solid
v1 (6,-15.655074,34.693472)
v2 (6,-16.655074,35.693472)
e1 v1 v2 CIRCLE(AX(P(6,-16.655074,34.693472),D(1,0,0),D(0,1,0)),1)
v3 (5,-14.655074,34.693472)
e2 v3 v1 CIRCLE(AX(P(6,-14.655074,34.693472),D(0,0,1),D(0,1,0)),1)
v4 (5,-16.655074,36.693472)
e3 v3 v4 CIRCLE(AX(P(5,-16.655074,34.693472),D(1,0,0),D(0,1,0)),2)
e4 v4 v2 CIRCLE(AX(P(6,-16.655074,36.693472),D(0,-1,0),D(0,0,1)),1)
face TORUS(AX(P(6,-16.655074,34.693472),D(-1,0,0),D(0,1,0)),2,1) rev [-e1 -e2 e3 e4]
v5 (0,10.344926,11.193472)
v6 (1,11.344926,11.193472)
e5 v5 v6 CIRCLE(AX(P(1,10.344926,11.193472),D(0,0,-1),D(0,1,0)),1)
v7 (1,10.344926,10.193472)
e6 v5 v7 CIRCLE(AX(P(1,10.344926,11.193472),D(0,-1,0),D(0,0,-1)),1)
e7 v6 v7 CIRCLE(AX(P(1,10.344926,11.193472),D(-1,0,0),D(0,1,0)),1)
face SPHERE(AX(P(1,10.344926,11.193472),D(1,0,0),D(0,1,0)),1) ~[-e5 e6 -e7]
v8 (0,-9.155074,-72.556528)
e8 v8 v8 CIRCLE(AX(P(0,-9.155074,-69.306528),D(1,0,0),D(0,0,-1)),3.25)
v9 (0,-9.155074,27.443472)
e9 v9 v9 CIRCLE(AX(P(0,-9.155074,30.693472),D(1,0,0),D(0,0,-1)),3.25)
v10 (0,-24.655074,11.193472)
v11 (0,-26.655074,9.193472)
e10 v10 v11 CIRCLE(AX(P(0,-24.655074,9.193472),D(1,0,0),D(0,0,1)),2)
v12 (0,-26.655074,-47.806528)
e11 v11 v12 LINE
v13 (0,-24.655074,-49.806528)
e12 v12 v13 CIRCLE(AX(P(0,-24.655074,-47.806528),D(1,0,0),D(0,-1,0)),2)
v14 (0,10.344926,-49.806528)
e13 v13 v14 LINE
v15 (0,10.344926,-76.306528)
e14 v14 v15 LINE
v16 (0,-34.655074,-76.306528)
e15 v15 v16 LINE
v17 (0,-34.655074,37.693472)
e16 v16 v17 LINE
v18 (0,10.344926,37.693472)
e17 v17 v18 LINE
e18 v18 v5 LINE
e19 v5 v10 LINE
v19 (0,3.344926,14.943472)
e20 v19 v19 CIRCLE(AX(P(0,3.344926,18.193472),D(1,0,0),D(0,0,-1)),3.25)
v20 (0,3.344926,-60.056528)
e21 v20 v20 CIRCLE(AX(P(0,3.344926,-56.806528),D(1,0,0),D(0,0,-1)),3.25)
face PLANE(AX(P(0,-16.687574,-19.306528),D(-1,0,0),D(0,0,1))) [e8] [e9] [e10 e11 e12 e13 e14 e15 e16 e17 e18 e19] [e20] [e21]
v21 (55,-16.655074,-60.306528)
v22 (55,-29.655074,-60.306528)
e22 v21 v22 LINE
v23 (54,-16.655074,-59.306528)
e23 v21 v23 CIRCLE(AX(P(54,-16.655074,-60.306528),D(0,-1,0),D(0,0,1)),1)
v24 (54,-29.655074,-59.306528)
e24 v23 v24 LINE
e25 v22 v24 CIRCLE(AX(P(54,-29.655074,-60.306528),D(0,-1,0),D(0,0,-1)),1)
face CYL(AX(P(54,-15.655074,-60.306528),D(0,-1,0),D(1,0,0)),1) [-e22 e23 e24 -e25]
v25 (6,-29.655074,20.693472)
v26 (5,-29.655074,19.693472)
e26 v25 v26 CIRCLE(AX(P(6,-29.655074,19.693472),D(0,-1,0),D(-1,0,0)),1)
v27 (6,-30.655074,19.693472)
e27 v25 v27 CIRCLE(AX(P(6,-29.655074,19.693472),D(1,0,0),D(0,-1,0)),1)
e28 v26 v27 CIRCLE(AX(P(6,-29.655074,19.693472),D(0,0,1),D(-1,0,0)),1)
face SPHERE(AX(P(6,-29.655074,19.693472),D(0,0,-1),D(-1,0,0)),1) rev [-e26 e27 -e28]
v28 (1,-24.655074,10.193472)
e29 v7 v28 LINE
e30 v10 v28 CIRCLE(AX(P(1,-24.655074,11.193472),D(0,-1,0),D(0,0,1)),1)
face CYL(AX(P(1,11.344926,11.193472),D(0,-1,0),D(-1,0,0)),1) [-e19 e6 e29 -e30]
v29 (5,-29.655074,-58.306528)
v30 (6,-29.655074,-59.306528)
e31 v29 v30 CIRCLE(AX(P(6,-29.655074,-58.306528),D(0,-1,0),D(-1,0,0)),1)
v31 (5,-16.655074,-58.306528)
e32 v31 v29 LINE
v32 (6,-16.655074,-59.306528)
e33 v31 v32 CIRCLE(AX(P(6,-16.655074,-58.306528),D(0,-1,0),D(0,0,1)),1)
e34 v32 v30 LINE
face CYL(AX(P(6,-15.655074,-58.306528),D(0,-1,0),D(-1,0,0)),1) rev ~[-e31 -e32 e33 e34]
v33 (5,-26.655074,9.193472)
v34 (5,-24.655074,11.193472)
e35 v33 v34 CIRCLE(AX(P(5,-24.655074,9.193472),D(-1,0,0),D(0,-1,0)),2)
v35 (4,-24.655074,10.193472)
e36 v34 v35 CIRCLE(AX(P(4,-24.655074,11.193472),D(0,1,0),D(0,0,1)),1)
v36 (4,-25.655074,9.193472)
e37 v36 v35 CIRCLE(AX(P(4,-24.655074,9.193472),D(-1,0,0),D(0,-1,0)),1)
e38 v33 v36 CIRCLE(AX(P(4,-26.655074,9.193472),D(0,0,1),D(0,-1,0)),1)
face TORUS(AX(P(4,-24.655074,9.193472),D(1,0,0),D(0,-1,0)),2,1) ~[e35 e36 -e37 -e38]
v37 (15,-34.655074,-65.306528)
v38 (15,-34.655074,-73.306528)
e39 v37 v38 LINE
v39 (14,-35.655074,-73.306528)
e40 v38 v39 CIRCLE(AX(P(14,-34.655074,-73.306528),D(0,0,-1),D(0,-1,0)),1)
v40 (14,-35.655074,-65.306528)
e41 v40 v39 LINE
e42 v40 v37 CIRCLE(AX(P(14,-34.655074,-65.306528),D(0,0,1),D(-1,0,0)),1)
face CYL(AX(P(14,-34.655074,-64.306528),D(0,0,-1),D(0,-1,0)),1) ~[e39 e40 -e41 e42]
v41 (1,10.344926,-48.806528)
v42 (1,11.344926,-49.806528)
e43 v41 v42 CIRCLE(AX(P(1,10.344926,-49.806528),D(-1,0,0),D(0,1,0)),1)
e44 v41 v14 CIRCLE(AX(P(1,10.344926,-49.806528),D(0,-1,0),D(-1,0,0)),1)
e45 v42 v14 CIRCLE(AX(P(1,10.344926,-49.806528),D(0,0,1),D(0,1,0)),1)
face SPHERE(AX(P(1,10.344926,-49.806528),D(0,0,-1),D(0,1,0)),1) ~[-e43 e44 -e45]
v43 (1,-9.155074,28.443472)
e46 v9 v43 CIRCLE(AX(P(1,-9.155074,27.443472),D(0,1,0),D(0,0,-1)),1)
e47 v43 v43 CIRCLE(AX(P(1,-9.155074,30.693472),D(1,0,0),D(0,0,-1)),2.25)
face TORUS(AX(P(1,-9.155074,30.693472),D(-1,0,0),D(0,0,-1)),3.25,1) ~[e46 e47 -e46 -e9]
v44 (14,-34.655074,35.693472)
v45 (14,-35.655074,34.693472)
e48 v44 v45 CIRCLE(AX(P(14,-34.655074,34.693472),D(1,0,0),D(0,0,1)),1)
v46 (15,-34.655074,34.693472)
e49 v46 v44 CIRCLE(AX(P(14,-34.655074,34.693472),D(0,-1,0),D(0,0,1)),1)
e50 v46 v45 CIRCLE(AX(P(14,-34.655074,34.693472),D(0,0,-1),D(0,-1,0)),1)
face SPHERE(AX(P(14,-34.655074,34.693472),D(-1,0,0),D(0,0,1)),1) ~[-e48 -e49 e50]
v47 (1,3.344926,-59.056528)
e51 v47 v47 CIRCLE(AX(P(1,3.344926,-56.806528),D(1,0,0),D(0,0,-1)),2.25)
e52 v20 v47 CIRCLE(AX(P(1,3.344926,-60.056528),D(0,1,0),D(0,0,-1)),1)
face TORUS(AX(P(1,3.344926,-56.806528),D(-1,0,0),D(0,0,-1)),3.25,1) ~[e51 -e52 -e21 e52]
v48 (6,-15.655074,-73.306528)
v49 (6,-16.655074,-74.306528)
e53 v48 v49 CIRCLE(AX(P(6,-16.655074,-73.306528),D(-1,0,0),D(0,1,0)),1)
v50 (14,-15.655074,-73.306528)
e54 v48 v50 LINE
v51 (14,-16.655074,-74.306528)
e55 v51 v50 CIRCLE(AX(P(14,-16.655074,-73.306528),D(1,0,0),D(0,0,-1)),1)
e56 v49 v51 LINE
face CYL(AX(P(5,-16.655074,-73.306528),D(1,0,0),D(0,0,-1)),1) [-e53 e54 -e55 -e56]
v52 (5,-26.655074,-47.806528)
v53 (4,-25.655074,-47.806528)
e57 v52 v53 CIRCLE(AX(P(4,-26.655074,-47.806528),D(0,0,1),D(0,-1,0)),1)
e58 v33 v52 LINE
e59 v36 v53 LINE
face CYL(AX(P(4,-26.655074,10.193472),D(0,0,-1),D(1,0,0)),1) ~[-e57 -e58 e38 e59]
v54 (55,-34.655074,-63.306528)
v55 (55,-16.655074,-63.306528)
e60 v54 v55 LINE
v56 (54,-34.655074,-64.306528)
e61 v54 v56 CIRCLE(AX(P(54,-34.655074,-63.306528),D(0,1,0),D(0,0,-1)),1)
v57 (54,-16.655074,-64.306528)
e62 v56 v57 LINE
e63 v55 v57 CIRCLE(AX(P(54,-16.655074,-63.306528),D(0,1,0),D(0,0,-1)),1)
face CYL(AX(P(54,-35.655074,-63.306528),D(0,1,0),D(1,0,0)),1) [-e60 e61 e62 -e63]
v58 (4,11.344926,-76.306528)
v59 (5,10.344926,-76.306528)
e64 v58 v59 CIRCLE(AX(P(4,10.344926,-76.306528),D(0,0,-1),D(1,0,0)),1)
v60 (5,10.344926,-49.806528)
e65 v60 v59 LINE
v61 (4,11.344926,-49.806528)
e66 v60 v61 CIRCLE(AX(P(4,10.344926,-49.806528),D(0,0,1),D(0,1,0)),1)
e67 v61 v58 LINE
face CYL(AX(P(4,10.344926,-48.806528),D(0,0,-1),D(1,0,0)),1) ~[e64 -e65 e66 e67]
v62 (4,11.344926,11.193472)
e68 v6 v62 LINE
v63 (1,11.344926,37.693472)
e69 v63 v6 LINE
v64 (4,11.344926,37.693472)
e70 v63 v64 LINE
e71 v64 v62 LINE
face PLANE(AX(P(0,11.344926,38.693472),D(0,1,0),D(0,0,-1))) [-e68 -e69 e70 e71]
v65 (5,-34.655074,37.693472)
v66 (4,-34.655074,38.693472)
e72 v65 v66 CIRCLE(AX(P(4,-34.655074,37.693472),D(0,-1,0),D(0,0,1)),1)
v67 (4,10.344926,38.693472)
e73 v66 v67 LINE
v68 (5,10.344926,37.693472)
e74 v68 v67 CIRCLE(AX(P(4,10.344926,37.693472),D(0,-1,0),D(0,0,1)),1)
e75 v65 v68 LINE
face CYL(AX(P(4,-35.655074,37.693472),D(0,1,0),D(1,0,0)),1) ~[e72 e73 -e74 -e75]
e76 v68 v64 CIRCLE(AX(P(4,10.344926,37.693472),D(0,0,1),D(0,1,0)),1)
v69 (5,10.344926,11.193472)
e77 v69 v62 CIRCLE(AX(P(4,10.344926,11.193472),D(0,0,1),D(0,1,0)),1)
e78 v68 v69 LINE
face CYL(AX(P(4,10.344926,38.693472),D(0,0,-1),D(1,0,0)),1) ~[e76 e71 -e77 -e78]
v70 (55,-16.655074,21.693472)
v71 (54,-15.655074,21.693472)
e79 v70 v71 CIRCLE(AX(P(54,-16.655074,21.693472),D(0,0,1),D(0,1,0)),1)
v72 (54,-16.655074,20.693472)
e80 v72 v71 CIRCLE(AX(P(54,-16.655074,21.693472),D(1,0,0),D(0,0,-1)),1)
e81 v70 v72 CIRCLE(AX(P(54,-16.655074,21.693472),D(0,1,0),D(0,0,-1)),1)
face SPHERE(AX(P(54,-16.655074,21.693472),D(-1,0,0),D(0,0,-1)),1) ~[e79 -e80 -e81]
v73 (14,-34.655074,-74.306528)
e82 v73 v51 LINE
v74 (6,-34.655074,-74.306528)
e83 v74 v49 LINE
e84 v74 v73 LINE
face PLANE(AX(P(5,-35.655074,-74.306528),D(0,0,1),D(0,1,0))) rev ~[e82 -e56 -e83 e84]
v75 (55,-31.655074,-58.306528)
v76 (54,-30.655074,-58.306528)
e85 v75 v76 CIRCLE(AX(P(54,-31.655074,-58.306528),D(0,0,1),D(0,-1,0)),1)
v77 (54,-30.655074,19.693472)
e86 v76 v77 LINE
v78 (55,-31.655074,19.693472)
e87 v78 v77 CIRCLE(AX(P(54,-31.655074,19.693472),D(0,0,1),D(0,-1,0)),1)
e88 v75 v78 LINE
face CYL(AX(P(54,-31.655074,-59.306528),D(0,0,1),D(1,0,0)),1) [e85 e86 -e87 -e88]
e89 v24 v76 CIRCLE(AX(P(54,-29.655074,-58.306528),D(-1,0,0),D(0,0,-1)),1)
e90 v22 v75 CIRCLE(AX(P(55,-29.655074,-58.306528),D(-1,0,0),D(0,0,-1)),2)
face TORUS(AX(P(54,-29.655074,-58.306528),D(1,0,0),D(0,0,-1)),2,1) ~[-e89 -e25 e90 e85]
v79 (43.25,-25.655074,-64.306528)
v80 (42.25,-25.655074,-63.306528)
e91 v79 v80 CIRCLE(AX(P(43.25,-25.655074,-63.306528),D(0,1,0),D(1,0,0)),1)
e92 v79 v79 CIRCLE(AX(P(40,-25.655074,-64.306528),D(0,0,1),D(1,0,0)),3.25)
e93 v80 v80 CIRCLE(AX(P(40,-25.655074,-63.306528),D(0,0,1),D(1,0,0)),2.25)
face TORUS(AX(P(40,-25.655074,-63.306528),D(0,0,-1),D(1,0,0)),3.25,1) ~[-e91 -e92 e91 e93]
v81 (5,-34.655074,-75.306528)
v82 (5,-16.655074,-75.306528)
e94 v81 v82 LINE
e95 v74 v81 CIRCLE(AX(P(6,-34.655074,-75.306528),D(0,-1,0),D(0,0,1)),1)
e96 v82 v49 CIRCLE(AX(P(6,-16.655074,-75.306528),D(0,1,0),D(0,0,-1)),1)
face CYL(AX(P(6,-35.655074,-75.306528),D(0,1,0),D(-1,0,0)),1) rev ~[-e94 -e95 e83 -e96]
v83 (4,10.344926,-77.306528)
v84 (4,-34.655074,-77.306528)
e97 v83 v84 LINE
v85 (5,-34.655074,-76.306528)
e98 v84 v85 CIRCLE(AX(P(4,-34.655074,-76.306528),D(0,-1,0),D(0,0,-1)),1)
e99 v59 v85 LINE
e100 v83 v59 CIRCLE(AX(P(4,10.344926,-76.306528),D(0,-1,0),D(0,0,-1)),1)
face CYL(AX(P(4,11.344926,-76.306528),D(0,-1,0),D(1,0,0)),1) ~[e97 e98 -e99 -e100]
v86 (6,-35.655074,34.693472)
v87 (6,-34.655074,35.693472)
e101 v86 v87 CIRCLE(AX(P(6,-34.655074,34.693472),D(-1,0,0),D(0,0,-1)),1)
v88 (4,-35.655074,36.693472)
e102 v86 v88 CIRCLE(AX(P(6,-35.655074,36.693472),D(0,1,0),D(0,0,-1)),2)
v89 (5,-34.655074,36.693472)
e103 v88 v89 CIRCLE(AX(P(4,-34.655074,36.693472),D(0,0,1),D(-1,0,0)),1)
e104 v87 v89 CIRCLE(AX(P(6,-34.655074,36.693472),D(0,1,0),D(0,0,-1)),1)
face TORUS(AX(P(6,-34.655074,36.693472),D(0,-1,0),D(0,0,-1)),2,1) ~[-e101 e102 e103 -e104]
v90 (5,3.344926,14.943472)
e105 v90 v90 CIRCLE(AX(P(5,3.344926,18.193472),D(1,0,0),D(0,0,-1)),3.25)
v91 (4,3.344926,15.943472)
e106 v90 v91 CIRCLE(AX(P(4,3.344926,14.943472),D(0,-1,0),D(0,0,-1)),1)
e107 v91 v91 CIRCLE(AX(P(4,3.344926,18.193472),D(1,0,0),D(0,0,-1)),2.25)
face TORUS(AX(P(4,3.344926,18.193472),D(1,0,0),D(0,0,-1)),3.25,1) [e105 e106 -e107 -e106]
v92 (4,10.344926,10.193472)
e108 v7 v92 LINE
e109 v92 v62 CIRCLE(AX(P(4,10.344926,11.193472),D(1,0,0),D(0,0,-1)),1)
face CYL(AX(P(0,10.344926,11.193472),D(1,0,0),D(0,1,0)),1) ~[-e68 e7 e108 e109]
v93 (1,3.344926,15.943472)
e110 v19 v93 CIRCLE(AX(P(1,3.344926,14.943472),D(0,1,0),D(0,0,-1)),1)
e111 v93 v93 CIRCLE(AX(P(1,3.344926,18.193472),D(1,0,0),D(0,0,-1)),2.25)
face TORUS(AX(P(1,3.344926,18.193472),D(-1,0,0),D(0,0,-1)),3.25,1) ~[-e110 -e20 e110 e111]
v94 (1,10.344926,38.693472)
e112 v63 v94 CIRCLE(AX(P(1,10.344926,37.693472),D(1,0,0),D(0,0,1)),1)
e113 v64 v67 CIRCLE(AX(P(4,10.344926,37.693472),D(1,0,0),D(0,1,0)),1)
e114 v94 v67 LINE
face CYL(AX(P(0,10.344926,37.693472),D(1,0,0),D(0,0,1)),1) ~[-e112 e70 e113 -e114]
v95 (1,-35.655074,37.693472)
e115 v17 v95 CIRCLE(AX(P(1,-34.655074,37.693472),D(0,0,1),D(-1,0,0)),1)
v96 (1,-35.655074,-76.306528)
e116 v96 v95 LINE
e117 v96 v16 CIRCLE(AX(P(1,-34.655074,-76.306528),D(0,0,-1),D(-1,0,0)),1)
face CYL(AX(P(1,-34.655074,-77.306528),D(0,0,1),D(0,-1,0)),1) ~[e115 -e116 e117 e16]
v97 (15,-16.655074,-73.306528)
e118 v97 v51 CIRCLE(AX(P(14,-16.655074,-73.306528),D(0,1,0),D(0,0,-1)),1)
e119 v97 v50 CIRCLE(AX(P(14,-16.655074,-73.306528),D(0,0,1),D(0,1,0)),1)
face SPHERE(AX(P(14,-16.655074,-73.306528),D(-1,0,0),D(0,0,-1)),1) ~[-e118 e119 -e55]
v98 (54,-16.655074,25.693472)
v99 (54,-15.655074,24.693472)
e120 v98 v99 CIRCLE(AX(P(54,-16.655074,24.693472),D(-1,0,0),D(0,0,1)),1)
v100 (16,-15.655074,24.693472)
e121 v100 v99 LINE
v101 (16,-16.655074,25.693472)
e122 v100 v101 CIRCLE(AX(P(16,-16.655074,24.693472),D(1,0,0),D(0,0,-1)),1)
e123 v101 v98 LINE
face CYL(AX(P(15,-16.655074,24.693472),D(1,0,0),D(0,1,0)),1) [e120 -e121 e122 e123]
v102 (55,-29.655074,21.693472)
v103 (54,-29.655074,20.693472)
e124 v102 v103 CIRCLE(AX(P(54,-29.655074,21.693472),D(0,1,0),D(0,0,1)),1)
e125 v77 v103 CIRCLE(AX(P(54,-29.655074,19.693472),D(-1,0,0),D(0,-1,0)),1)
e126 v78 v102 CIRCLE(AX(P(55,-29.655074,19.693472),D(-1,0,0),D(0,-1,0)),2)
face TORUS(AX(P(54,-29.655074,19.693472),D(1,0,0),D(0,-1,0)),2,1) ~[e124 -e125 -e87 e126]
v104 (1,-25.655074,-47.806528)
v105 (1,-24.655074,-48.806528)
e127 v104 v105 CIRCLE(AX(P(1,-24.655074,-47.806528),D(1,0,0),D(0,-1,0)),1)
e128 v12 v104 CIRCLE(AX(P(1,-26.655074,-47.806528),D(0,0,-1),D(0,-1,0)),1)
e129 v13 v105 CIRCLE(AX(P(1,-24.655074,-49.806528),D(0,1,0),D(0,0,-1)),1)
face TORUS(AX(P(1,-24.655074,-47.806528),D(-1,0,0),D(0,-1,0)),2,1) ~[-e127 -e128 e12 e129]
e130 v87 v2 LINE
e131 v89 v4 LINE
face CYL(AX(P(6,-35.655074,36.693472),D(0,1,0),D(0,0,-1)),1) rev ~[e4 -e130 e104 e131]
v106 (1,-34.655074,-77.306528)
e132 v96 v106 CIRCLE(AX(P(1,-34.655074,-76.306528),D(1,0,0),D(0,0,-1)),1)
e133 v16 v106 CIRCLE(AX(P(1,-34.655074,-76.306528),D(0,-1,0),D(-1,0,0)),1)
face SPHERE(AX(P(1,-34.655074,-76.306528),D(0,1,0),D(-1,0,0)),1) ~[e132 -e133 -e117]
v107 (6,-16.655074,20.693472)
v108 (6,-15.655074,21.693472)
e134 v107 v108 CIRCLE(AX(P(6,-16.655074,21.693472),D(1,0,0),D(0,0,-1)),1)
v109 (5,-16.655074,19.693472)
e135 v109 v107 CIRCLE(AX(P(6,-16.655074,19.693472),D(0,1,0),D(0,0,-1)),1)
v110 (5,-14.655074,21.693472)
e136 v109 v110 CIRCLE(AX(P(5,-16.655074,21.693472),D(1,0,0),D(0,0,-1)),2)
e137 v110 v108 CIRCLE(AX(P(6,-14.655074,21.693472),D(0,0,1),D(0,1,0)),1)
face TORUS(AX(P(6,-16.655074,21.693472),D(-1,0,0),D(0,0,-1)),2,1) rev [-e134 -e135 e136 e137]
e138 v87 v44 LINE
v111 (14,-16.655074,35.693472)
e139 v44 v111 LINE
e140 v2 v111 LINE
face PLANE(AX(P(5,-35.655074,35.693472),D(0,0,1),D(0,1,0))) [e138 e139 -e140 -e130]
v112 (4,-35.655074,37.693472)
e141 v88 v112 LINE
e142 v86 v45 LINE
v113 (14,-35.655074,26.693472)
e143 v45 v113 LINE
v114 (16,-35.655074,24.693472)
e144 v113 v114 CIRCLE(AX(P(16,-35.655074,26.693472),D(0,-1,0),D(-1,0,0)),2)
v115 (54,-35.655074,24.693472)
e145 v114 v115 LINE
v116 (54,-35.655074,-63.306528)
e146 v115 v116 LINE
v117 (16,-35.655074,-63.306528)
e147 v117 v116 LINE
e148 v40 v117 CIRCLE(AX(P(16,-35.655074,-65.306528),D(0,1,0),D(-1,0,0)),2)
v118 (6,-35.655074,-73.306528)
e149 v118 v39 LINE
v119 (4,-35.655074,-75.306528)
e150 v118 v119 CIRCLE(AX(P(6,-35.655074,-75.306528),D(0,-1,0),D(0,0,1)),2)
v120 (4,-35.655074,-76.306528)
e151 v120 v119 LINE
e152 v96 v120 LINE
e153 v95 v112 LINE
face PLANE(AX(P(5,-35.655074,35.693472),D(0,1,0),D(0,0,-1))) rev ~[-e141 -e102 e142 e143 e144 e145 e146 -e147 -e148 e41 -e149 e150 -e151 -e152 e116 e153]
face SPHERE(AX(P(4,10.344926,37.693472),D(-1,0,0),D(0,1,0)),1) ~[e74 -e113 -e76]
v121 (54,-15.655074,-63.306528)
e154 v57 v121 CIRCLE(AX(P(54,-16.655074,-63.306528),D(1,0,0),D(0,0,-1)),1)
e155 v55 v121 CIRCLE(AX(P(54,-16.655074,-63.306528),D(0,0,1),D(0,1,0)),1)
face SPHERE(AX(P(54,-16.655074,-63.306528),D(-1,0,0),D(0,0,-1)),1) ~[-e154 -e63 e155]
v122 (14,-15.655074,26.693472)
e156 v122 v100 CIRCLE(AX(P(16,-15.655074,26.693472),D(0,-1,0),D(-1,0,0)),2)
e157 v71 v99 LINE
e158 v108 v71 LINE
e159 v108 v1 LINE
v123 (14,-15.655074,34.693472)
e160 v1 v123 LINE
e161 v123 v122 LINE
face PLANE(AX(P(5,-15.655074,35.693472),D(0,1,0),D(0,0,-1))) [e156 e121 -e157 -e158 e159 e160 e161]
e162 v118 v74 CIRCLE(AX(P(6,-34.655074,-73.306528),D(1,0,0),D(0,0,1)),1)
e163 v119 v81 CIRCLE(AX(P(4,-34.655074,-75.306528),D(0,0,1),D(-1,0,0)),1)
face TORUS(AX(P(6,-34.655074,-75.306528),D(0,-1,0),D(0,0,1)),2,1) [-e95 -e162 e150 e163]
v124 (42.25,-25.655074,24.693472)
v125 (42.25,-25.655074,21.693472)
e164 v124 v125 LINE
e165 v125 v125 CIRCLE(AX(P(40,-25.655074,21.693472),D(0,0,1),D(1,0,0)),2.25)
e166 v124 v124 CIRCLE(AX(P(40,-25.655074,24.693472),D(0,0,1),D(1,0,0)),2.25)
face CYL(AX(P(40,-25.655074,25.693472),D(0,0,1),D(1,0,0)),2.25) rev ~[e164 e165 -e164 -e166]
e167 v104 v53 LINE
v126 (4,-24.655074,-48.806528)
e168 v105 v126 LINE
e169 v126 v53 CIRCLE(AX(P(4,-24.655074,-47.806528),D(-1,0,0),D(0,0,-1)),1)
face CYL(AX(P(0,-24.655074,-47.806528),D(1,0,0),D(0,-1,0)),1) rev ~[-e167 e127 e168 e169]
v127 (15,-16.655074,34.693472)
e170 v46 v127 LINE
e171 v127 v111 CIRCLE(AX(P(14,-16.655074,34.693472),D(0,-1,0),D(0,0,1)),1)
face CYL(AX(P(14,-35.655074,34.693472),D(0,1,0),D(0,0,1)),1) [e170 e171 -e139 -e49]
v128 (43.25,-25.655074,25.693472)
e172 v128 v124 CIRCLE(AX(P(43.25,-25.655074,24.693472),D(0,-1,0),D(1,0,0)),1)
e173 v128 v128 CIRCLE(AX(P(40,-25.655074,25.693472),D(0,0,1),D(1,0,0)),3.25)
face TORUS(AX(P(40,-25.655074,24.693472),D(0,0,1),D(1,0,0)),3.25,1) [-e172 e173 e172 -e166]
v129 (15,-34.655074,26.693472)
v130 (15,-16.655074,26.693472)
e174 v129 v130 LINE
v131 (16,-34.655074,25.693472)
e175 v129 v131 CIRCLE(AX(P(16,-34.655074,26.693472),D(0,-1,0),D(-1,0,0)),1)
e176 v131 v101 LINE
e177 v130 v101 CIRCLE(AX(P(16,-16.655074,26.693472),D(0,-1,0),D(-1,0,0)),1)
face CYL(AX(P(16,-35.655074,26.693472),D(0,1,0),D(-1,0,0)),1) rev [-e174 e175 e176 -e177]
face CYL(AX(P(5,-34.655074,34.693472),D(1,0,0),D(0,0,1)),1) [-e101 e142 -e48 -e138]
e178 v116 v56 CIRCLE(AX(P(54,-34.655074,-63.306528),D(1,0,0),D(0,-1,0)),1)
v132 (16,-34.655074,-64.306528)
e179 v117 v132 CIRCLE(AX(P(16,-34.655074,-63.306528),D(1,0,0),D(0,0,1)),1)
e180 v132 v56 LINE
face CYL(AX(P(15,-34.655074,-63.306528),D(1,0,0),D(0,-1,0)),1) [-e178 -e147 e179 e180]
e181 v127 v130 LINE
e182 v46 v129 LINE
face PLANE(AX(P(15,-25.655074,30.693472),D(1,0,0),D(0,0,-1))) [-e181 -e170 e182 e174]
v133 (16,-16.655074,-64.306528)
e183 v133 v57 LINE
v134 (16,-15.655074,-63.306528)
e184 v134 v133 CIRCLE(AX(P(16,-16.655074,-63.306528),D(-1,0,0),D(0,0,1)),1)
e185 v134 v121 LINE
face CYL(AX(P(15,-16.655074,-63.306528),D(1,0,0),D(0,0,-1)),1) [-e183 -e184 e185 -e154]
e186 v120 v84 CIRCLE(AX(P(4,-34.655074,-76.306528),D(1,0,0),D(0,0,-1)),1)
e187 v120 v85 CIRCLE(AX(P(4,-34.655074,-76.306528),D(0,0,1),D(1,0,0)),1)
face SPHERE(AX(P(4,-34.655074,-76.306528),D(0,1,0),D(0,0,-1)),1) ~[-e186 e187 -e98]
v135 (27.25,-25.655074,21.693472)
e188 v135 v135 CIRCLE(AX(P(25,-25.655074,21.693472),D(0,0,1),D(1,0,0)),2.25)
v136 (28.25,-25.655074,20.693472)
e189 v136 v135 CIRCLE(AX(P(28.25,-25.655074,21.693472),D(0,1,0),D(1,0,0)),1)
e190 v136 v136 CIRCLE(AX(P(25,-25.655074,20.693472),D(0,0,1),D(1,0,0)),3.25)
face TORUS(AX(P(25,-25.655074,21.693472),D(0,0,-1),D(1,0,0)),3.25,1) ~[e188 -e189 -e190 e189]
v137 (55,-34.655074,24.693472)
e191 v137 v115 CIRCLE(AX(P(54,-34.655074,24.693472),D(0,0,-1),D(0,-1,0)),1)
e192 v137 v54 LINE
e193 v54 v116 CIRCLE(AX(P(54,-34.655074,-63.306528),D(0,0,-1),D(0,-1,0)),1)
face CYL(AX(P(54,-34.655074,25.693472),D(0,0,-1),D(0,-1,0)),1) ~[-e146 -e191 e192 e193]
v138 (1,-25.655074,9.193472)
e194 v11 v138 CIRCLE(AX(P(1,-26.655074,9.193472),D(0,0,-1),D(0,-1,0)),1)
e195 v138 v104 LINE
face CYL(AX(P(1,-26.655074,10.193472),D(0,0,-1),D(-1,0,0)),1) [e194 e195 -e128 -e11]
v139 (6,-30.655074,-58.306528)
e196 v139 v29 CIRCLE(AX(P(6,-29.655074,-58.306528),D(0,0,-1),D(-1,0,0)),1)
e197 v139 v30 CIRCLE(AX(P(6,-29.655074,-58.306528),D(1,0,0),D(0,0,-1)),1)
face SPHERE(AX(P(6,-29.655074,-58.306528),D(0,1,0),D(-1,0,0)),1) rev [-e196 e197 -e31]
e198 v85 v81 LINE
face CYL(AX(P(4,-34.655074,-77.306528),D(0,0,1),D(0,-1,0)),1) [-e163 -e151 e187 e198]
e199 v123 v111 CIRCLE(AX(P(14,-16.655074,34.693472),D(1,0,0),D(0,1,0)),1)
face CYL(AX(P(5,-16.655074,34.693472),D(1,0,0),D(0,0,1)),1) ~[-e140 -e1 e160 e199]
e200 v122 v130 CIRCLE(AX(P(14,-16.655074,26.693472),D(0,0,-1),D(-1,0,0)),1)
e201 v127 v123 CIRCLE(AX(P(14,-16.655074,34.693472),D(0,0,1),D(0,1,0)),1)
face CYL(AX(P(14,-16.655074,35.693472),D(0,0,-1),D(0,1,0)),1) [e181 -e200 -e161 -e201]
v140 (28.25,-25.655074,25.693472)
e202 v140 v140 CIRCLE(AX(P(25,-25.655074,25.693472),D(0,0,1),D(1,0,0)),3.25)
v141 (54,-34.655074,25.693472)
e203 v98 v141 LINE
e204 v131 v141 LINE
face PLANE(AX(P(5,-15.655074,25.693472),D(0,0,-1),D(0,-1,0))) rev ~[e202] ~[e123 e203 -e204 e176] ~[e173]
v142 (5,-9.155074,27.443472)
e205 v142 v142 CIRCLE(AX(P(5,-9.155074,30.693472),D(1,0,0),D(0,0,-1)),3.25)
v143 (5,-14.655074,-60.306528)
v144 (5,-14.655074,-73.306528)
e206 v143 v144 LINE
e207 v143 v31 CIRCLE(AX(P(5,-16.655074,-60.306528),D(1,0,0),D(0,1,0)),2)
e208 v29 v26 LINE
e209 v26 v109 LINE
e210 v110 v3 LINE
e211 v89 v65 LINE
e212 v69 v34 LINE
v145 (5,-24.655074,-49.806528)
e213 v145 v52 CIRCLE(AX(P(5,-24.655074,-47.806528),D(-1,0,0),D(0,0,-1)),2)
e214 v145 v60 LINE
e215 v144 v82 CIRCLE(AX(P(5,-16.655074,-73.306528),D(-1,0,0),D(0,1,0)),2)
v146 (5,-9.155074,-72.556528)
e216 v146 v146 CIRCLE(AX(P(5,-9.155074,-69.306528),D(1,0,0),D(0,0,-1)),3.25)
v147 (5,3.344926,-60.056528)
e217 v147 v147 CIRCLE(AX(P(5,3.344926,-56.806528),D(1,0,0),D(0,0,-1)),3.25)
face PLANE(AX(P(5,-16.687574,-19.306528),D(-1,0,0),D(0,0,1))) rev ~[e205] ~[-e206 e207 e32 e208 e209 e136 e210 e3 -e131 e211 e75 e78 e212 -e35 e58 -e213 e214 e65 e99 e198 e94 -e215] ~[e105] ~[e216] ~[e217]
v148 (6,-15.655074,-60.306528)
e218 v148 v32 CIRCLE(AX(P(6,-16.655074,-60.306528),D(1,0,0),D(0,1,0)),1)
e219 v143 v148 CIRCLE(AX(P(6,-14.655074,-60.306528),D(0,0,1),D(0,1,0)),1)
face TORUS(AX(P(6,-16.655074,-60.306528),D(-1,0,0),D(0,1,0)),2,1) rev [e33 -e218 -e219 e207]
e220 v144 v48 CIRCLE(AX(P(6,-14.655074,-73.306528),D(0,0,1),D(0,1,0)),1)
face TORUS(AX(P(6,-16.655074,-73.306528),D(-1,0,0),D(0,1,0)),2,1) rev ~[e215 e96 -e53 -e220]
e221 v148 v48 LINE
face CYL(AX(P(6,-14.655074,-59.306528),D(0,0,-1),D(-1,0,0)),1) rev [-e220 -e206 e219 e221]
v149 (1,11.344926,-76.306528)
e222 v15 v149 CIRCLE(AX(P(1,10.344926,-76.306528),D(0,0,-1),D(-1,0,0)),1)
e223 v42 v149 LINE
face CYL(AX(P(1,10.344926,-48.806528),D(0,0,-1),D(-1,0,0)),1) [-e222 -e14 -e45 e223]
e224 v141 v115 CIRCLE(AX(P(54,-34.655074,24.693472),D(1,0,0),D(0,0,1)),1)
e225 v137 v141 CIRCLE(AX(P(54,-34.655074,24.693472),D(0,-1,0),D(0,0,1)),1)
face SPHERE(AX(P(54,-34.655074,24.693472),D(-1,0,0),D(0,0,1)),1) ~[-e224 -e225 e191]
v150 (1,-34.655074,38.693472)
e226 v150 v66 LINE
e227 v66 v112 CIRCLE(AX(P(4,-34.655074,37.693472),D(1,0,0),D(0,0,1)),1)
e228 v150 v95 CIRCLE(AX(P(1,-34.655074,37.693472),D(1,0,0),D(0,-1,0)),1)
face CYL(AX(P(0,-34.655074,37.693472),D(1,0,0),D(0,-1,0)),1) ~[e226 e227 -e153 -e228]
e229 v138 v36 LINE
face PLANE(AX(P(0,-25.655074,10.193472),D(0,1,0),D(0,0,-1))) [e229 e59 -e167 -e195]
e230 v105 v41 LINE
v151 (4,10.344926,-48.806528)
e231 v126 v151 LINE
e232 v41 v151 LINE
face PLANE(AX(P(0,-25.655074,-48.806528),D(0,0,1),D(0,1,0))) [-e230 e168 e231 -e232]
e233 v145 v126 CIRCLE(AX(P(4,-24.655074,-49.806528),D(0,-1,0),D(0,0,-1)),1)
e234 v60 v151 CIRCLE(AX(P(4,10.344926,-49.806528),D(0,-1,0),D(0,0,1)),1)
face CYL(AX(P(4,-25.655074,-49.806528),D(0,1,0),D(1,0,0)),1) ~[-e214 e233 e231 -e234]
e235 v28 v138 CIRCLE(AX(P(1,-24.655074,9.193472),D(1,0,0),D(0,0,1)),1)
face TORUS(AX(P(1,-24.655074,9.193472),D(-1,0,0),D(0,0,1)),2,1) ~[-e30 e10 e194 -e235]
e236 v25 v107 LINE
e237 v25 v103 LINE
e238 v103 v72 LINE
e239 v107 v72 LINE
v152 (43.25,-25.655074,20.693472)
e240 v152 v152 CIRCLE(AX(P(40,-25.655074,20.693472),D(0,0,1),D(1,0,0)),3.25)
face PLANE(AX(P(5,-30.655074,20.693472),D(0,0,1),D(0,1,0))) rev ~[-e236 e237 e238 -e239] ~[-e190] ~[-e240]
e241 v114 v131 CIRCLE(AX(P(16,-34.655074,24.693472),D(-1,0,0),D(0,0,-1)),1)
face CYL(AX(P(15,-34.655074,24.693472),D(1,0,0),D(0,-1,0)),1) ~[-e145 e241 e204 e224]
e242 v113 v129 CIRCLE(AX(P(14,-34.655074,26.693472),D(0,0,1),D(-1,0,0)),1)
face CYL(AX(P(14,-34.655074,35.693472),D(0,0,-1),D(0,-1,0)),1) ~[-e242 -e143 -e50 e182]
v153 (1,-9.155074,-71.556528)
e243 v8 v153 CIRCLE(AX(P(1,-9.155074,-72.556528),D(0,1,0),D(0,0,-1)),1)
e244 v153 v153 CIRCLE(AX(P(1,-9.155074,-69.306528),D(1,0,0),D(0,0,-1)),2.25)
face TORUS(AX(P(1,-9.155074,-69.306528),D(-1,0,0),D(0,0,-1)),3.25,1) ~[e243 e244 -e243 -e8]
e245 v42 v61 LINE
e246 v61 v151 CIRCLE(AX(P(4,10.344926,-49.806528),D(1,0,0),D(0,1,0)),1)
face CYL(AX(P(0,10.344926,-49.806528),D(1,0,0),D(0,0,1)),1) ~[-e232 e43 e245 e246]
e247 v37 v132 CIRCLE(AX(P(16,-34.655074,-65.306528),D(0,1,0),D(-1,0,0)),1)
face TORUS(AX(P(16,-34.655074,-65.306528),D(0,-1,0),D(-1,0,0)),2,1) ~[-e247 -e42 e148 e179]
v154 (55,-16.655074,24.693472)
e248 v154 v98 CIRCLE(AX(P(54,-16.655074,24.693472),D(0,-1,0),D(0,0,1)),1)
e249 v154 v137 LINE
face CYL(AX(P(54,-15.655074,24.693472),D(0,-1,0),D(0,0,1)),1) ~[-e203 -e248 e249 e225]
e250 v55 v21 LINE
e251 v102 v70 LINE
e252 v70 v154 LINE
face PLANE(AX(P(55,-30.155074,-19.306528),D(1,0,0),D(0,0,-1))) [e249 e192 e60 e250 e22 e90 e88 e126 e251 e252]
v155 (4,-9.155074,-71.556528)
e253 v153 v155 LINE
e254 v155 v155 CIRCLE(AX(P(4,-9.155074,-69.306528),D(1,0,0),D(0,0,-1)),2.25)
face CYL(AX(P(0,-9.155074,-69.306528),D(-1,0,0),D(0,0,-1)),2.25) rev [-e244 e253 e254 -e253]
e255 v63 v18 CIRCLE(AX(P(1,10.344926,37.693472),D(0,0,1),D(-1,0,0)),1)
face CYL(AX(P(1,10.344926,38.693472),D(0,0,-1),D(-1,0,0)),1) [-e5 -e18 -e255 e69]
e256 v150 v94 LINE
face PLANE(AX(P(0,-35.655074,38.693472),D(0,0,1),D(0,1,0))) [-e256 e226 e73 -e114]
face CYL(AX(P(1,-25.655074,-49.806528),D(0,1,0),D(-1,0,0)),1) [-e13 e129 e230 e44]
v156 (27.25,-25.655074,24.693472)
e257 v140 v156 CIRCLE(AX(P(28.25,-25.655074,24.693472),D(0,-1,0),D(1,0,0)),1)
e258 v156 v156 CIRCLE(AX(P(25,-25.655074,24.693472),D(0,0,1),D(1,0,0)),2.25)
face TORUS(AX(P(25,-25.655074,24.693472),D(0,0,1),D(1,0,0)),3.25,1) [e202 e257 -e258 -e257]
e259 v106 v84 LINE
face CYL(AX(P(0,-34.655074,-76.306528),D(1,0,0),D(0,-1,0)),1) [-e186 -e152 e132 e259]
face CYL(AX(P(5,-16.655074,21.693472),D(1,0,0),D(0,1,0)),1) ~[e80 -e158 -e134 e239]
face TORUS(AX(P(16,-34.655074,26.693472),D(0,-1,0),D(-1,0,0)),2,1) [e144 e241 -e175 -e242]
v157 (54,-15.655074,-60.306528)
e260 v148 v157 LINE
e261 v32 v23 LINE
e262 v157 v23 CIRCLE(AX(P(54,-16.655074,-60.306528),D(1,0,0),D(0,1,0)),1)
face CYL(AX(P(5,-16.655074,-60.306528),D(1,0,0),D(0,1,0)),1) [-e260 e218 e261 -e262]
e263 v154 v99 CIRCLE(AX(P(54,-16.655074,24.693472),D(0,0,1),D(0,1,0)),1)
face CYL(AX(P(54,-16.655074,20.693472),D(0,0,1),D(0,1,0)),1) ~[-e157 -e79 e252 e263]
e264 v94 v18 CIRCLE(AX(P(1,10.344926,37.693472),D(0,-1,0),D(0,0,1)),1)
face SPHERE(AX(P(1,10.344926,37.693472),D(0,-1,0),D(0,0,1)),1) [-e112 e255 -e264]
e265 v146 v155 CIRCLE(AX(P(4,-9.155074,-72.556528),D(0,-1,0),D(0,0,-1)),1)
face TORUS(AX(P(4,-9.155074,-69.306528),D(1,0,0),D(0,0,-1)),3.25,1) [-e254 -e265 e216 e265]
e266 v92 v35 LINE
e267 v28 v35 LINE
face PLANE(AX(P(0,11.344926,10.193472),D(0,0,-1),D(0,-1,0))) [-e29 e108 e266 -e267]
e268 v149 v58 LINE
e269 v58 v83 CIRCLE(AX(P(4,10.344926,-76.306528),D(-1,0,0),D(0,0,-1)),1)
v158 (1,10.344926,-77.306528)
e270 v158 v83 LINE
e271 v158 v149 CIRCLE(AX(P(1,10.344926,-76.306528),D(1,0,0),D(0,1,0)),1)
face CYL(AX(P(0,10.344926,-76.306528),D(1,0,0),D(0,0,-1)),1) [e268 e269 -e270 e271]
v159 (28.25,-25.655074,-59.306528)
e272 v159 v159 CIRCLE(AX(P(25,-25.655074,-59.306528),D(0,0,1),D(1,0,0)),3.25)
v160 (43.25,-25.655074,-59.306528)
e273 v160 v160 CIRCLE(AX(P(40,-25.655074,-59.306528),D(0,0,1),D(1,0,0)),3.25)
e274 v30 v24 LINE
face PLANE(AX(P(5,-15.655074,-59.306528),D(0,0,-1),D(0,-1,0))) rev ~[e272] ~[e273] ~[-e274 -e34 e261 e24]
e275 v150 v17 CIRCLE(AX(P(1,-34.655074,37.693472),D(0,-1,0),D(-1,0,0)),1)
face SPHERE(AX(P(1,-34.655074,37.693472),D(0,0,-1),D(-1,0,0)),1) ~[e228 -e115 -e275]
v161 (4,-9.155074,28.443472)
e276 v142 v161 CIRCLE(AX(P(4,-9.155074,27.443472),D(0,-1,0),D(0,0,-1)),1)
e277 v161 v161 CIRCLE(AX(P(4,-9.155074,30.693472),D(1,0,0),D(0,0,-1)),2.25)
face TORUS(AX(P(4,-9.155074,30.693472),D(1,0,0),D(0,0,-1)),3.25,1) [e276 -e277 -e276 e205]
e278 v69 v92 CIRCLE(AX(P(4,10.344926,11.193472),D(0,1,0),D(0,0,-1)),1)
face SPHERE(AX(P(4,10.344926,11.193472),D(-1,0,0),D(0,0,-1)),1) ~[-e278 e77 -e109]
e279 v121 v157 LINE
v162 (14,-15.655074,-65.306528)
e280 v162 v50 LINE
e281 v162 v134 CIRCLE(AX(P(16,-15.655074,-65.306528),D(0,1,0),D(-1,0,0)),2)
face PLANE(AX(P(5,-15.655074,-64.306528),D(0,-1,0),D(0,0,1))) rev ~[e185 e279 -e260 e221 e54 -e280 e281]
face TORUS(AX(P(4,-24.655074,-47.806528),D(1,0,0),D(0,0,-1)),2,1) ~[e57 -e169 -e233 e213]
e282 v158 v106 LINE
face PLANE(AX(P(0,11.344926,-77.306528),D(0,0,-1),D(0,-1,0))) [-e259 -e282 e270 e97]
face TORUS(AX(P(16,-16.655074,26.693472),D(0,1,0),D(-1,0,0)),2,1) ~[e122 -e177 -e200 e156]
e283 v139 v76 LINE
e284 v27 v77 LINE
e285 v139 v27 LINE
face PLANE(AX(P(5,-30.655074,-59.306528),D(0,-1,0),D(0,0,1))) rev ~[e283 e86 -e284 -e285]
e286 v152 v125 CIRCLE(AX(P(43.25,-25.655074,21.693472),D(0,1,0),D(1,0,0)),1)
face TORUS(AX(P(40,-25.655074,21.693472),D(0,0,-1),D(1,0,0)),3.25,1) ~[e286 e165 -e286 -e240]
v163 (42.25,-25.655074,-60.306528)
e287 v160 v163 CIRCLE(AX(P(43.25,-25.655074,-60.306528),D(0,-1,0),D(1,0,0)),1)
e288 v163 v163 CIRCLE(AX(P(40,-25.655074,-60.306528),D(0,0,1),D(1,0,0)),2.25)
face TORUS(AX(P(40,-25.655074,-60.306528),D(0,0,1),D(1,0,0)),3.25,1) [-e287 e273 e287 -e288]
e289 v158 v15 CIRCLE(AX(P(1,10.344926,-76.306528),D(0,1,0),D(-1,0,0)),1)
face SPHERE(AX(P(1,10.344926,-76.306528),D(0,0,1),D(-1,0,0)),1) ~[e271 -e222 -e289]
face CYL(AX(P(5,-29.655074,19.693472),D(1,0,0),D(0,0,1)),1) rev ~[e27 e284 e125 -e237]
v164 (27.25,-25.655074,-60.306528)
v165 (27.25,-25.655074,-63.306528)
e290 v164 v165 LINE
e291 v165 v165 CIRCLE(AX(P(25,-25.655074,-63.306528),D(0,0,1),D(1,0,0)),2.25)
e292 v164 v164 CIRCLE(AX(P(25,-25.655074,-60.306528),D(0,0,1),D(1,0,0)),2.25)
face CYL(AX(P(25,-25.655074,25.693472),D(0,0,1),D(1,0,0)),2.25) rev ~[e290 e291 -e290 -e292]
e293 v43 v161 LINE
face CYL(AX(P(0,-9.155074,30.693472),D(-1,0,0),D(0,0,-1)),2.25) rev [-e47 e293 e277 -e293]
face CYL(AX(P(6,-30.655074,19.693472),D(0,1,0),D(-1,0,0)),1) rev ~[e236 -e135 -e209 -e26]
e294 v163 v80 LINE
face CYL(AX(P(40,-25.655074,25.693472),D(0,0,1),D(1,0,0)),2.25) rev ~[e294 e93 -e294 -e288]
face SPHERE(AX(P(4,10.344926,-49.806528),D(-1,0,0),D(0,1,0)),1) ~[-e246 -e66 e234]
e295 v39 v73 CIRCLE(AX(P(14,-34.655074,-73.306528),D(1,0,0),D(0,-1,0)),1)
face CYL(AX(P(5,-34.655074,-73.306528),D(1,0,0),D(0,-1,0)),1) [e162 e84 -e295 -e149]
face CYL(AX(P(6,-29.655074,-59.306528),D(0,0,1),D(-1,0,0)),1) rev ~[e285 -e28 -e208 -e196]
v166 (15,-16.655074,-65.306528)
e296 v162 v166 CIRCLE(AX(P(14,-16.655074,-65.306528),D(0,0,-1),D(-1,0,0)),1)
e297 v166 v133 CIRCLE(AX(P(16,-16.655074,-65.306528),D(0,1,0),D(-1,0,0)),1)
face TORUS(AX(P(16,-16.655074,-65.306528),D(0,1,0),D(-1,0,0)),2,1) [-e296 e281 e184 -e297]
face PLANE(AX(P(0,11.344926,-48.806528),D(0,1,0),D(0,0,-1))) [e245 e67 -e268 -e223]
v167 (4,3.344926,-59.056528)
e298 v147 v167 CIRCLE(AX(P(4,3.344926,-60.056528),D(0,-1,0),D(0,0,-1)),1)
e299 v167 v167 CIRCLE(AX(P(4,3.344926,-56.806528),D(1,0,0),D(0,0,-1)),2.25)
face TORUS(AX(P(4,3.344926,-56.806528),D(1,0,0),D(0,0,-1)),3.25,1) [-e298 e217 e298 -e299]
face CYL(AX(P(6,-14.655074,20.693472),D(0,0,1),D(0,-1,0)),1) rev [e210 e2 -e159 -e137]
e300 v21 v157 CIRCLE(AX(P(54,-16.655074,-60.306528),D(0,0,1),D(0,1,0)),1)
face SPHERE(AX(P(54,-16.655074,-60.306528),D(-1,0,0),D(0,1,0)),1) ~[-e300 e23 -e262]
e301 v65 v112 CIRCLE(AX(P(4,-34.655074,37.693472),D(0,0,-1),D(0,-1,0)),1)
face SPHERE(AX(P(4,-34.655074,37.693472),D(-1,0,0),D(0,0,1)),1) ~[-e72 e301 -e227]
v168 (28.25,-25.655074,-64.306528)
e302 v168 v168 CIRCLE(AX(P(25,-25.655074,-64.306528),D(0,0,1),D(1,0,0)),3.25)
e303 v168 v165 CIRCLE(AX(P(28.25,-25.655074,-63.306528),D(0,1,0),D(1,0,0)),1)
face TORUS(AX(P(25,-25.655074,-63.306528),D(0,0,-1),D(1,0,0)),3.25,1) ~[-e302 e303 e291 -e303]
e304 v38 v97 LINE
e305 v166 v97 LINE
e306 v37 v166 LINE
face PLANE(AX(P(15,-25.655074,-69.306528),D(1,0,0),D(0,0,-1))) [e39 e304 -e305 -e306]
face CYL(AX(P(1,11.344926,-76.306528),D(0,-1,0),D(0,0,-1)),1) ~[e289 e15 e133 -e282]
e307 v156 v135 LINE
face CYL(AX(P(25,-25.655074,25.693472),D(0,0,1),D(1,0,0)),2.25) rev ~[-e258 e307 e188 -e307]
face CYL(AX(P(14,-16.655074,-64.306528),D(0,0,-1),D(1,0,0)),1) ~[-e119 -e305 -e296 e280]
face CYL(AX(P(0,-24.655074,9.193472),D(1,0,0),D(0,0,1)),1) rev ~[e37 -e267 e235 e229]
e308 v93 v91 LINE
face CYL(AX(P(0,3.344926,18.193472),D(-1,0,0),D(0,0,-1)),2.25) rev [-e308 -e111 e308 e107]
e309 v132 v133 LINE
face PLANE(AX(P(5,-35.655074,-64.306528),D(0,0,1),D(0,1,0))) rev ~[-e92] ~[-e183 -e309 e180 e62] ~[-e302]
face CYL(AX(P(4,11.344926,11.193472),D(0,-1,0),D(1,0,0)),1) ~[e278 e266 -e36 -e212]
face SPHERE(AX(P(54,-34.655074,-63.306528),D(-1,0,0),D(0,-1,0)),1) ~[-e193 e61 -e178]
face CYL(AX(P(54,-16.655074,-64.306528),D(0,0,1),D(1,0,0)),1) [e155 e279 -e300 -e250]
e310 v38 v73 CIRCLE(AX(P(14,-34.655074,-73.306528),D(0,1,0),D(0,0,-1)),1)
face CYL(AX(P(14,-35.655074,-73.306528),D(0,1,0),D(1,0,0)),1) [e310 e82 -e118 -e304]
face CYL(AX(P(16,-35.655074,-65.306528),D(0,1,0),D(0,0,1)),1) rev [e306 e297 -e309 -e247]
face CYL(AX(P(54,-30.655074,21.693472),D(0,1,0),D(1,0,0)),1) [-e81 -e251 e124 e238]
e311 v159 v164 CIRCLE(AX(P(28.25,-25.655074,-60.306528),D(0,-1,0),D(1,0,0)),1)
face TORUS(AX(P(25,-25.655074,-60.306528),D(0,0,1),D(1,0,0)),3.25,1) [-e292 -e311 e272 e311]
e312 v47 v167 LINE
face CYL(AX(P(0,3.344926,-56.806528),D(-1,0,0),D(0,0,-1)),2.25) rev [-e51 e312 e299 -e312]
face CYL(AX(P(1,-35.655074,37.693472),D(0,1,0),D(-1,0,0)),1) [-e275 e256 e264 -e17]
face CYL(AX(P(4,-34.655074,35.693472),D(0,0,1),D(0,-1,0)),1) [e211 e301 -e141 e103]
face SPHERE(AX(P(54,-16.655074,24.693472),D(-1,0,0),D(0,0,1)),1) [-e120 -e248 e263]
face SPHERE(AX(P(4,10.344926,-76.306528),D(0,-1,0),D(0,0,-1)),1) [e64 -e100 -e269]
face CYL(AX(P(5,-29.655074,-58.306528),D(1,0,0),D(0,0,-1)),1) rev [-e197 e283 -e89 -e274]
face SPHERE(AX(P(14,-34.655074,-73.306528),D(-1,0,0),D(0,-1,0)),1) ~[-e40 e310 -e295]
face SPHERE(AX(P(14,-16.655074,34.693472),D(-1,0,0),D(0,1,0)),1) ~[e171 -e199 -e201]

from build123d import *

# Parameters (mm, degrees)
SKETCH1_R           = 2.25
BOSS_EXTRUDE1_DEPTH = 5
BOSS_EXTRUDE2_DEPTH = 50
SKETCH8_W           = 10
SKETCH8_H           = 20
BOSS_EXTRUDE3_DEPTH = 10
SKETCH9_R           = 2.25
CUT_EXTRUDE4_DEPTH  = 110
FILLET5_R           = 1


with BuildPart() as part:
    # Sketch1 → Boss-Extrude1 (new body)
    with BuildSketch(Plane(origin=(0, 0, 0), x_dir=(0, 0, -1), z_dir=(1, 0, 0))):
        Polygon((-38.693472114, 11.344926417), (-10.193472114, 11.344926417), (-10.193472114, -25.655073583), (48.806527886, -25.655073583), (48.806527886, 11.344926417), (77.306527886, 11.344926417), (77.306527886, -35.655073583), (-38.693472114, -35.655073583), align=None)
        with Locations((-30.693472114, -9.155073583)):
            Circle(SKETCH1_R, mode=Mode.SUBTRACT)
        with Locations((-18.193472114, 3.344926417)):
            Circle(SKETCH1_R, mode=Mode.SUBTRACT)
        with Locations((69.306527886, -9.155073583)):
            Circle(SKETCH1_R, mode=Mode.SUBTRACT)
        with Locations((56.806527886, 3.344926417)):
            Circle(SKETCH1_R, mode=Mode.SUBTRACT)
    extrude(amount=BOSS_EXTRUDE1_DEPTH)

    # Sketch2 → Boss-Extrude2 (add)
    with BuildSketch(Plane(origin=(5, 0, 0), x_dir=(0, 0, -1), z_dir=(1, 0, 0))):
        Polygon((-25.693472114, -35.655073583), (64.306527886, -35.655073583), (64.306527886, -15.655073583), (59.306527886, -15.655073583), (59.306527886, -30.655073583), (-20.693472114, -30.655073583), (-20.693472114, -15.655073583), (-25.693472114, -15.655073583), align=None)
    extrude(amount=BOSS_EXTRUDE2_DEPTH)

    # Sketch8 → Boss-Extrude3 (add)
    with BuildSketch(Plane(origin=(5, 0, 0), x_dir=(0, 0, -1), z_dir=(1, 0, 0))):
        with Locations((-30.693472114, -25.655073583)):
            Rectangle(SKETCH8_W, SKETCH8_H)
        with Locations((69.306527886, -25.655073583)):
            Rectangle(SKETCH8_W, SKETCH8_H)
    extrude(amount=BOSS_EXTRUDE3_DEPTH)

    # Sketch9 → Cut-Extrude4 (cut)
    with BuildSketch(Plane.XY.offset(25.693472114)):
        with Locations((25, -25.655073583)):
            Circle(SKETCH9_R)
        with Locations((40, -25.655073583)):
            Circle(SKETCH9_R)
    extrude(amount=-CUT_EXTRUDE4_DEPTH, mode=Mode.SUBTRACT)

    # Fillet5
    fillet5_edges = [part.edges().sort_by_distance(p)[0] for p in [
        (22.75, -25.655073583, -59.306527886),
        (22.75, -25.655073583, -64.306527886),
        (22.75, -25.655073583, 20.693472114),
        (22.75, -25.655073583, 25.693472114),
        (0, 11.344926417, -63.056527886),
        (37.75, -25.655073583, -59.306527886),
        (37.75, -25.655073583, -64.306527886),
        (37.75, -25.655073583, 20.693472114),
        (37.75, -25.655073583, 25.693472114),
        (0, -12.155073583, -77.306527886),
        (0, -35.655073583, -19.306527886),
        (0, -12.155073583, 38.693472114),
        (5, -12.155073583, -77.306527886),
        (2.5, 11.344926417, 38.693472114),
        (2.5, 11.344926417, 10.193472114),
        (2.5, -25.655073583, 10.193472114),
        (2.5, -25.655073583, -48.806527886),
        (2.5, 11.344926417, -48.806527886),
        (2.5, 11.344926417, -77.306527886),
        (2.5, -35.655073583, -77.306527886),
        (2.5, -35.655073583, 38.693472114),
        (5, 11.344926417, -63.056527886),
        (5, -7.155073583, -48.806527886),
        (0, -9.155073583, 32.943472114),
        (5, -9.155073583, 32.943472114),
        (5, -25.655073583, -19.306527886),
        (0, 3.344926417, 20.443472114),
        (5, 3.344926417, 20.443472114),
        (5, -7.155073583, 10.193472114),
        (0, -9.155073583, -67.056527886),
        (5, -9.155073583, -67.056527886),
        (5, 11.344926417, 24.443472114),
        (0, 3.344926417, -54.556527886),
        (5, 3.344926417, -54.556527886),
        (35, -15.655073583, 25.693472114),
        (35, -35.655073583, 25.693472114),
        (35, -35.655073583, -64.306527886),
        (5, -15.655073583, -66.806527886),
        (35, -15.655073583, -64.306527886),
        (5, -23.155073583, -59.306527886),
        (30, -15.655073583, -59.306527886),
        (5, -30.655073583, -19.306527886),
        (30, -30.655073583, -59.306527886),
        (5, -23.155073583, 20.693472114),
        (30, -30.655073583, 20.693472114),
        (5, -15.655073583, 28.193472114),
        (30, -15.655073583, 20.693472114),
        (55, -25.655073583, 25.693472114),
        (55, -35.655073583, -19.306527886),
        (55, -25.655073583, -64.306527886),
        (5, -12.155073583, 38.693472114),
        (55, -15.655073583, -61.806527886),
        (55, -23.155073583, -59.306527886),
        (55, -30.655073583, -19.306527886),
        (55, -23.155073583, 20.693472114),
        (55, -15.655073583, 23.193472114),
        (5, -25.655073583, 35.693472114),
        (10, -15.655073583, 35.693472114),
        (10, -35.655073583, 35.693472114),
        (15, -25.655073583, 25.693472114),
        (15, -15.655073583, 30.693472114),
        (15, -25.655073583, 35.693472114),
        (15, -35.655073583, 30.693472114),
        (5, -35.655073583, -75.806527886),
        (5, -25.655073583, -74.306527886),
        (10, -35.655073583, -74.306527886),
        (10, -15.655073583, -74.306527886),
        (15, -25.655073583, -64.306527886),
        (15, -35.655073583, -69.306527886),
        (15, -25.655073583, -74.306527886),
        (15, -15.655073583, -69.306527886),
        (0, 11.344926417, 24.443472114),
        (5, -35.655073583, 37.193472114),
        (0, -7.155073583, 10.193472114),
        (0, -25.655073583, -19.306527886),
        (0, -7.155073583, -48.806527886),
    ]]
    fillet(fillet5_edges, radius=FILLET5_R)


solid = part.part
